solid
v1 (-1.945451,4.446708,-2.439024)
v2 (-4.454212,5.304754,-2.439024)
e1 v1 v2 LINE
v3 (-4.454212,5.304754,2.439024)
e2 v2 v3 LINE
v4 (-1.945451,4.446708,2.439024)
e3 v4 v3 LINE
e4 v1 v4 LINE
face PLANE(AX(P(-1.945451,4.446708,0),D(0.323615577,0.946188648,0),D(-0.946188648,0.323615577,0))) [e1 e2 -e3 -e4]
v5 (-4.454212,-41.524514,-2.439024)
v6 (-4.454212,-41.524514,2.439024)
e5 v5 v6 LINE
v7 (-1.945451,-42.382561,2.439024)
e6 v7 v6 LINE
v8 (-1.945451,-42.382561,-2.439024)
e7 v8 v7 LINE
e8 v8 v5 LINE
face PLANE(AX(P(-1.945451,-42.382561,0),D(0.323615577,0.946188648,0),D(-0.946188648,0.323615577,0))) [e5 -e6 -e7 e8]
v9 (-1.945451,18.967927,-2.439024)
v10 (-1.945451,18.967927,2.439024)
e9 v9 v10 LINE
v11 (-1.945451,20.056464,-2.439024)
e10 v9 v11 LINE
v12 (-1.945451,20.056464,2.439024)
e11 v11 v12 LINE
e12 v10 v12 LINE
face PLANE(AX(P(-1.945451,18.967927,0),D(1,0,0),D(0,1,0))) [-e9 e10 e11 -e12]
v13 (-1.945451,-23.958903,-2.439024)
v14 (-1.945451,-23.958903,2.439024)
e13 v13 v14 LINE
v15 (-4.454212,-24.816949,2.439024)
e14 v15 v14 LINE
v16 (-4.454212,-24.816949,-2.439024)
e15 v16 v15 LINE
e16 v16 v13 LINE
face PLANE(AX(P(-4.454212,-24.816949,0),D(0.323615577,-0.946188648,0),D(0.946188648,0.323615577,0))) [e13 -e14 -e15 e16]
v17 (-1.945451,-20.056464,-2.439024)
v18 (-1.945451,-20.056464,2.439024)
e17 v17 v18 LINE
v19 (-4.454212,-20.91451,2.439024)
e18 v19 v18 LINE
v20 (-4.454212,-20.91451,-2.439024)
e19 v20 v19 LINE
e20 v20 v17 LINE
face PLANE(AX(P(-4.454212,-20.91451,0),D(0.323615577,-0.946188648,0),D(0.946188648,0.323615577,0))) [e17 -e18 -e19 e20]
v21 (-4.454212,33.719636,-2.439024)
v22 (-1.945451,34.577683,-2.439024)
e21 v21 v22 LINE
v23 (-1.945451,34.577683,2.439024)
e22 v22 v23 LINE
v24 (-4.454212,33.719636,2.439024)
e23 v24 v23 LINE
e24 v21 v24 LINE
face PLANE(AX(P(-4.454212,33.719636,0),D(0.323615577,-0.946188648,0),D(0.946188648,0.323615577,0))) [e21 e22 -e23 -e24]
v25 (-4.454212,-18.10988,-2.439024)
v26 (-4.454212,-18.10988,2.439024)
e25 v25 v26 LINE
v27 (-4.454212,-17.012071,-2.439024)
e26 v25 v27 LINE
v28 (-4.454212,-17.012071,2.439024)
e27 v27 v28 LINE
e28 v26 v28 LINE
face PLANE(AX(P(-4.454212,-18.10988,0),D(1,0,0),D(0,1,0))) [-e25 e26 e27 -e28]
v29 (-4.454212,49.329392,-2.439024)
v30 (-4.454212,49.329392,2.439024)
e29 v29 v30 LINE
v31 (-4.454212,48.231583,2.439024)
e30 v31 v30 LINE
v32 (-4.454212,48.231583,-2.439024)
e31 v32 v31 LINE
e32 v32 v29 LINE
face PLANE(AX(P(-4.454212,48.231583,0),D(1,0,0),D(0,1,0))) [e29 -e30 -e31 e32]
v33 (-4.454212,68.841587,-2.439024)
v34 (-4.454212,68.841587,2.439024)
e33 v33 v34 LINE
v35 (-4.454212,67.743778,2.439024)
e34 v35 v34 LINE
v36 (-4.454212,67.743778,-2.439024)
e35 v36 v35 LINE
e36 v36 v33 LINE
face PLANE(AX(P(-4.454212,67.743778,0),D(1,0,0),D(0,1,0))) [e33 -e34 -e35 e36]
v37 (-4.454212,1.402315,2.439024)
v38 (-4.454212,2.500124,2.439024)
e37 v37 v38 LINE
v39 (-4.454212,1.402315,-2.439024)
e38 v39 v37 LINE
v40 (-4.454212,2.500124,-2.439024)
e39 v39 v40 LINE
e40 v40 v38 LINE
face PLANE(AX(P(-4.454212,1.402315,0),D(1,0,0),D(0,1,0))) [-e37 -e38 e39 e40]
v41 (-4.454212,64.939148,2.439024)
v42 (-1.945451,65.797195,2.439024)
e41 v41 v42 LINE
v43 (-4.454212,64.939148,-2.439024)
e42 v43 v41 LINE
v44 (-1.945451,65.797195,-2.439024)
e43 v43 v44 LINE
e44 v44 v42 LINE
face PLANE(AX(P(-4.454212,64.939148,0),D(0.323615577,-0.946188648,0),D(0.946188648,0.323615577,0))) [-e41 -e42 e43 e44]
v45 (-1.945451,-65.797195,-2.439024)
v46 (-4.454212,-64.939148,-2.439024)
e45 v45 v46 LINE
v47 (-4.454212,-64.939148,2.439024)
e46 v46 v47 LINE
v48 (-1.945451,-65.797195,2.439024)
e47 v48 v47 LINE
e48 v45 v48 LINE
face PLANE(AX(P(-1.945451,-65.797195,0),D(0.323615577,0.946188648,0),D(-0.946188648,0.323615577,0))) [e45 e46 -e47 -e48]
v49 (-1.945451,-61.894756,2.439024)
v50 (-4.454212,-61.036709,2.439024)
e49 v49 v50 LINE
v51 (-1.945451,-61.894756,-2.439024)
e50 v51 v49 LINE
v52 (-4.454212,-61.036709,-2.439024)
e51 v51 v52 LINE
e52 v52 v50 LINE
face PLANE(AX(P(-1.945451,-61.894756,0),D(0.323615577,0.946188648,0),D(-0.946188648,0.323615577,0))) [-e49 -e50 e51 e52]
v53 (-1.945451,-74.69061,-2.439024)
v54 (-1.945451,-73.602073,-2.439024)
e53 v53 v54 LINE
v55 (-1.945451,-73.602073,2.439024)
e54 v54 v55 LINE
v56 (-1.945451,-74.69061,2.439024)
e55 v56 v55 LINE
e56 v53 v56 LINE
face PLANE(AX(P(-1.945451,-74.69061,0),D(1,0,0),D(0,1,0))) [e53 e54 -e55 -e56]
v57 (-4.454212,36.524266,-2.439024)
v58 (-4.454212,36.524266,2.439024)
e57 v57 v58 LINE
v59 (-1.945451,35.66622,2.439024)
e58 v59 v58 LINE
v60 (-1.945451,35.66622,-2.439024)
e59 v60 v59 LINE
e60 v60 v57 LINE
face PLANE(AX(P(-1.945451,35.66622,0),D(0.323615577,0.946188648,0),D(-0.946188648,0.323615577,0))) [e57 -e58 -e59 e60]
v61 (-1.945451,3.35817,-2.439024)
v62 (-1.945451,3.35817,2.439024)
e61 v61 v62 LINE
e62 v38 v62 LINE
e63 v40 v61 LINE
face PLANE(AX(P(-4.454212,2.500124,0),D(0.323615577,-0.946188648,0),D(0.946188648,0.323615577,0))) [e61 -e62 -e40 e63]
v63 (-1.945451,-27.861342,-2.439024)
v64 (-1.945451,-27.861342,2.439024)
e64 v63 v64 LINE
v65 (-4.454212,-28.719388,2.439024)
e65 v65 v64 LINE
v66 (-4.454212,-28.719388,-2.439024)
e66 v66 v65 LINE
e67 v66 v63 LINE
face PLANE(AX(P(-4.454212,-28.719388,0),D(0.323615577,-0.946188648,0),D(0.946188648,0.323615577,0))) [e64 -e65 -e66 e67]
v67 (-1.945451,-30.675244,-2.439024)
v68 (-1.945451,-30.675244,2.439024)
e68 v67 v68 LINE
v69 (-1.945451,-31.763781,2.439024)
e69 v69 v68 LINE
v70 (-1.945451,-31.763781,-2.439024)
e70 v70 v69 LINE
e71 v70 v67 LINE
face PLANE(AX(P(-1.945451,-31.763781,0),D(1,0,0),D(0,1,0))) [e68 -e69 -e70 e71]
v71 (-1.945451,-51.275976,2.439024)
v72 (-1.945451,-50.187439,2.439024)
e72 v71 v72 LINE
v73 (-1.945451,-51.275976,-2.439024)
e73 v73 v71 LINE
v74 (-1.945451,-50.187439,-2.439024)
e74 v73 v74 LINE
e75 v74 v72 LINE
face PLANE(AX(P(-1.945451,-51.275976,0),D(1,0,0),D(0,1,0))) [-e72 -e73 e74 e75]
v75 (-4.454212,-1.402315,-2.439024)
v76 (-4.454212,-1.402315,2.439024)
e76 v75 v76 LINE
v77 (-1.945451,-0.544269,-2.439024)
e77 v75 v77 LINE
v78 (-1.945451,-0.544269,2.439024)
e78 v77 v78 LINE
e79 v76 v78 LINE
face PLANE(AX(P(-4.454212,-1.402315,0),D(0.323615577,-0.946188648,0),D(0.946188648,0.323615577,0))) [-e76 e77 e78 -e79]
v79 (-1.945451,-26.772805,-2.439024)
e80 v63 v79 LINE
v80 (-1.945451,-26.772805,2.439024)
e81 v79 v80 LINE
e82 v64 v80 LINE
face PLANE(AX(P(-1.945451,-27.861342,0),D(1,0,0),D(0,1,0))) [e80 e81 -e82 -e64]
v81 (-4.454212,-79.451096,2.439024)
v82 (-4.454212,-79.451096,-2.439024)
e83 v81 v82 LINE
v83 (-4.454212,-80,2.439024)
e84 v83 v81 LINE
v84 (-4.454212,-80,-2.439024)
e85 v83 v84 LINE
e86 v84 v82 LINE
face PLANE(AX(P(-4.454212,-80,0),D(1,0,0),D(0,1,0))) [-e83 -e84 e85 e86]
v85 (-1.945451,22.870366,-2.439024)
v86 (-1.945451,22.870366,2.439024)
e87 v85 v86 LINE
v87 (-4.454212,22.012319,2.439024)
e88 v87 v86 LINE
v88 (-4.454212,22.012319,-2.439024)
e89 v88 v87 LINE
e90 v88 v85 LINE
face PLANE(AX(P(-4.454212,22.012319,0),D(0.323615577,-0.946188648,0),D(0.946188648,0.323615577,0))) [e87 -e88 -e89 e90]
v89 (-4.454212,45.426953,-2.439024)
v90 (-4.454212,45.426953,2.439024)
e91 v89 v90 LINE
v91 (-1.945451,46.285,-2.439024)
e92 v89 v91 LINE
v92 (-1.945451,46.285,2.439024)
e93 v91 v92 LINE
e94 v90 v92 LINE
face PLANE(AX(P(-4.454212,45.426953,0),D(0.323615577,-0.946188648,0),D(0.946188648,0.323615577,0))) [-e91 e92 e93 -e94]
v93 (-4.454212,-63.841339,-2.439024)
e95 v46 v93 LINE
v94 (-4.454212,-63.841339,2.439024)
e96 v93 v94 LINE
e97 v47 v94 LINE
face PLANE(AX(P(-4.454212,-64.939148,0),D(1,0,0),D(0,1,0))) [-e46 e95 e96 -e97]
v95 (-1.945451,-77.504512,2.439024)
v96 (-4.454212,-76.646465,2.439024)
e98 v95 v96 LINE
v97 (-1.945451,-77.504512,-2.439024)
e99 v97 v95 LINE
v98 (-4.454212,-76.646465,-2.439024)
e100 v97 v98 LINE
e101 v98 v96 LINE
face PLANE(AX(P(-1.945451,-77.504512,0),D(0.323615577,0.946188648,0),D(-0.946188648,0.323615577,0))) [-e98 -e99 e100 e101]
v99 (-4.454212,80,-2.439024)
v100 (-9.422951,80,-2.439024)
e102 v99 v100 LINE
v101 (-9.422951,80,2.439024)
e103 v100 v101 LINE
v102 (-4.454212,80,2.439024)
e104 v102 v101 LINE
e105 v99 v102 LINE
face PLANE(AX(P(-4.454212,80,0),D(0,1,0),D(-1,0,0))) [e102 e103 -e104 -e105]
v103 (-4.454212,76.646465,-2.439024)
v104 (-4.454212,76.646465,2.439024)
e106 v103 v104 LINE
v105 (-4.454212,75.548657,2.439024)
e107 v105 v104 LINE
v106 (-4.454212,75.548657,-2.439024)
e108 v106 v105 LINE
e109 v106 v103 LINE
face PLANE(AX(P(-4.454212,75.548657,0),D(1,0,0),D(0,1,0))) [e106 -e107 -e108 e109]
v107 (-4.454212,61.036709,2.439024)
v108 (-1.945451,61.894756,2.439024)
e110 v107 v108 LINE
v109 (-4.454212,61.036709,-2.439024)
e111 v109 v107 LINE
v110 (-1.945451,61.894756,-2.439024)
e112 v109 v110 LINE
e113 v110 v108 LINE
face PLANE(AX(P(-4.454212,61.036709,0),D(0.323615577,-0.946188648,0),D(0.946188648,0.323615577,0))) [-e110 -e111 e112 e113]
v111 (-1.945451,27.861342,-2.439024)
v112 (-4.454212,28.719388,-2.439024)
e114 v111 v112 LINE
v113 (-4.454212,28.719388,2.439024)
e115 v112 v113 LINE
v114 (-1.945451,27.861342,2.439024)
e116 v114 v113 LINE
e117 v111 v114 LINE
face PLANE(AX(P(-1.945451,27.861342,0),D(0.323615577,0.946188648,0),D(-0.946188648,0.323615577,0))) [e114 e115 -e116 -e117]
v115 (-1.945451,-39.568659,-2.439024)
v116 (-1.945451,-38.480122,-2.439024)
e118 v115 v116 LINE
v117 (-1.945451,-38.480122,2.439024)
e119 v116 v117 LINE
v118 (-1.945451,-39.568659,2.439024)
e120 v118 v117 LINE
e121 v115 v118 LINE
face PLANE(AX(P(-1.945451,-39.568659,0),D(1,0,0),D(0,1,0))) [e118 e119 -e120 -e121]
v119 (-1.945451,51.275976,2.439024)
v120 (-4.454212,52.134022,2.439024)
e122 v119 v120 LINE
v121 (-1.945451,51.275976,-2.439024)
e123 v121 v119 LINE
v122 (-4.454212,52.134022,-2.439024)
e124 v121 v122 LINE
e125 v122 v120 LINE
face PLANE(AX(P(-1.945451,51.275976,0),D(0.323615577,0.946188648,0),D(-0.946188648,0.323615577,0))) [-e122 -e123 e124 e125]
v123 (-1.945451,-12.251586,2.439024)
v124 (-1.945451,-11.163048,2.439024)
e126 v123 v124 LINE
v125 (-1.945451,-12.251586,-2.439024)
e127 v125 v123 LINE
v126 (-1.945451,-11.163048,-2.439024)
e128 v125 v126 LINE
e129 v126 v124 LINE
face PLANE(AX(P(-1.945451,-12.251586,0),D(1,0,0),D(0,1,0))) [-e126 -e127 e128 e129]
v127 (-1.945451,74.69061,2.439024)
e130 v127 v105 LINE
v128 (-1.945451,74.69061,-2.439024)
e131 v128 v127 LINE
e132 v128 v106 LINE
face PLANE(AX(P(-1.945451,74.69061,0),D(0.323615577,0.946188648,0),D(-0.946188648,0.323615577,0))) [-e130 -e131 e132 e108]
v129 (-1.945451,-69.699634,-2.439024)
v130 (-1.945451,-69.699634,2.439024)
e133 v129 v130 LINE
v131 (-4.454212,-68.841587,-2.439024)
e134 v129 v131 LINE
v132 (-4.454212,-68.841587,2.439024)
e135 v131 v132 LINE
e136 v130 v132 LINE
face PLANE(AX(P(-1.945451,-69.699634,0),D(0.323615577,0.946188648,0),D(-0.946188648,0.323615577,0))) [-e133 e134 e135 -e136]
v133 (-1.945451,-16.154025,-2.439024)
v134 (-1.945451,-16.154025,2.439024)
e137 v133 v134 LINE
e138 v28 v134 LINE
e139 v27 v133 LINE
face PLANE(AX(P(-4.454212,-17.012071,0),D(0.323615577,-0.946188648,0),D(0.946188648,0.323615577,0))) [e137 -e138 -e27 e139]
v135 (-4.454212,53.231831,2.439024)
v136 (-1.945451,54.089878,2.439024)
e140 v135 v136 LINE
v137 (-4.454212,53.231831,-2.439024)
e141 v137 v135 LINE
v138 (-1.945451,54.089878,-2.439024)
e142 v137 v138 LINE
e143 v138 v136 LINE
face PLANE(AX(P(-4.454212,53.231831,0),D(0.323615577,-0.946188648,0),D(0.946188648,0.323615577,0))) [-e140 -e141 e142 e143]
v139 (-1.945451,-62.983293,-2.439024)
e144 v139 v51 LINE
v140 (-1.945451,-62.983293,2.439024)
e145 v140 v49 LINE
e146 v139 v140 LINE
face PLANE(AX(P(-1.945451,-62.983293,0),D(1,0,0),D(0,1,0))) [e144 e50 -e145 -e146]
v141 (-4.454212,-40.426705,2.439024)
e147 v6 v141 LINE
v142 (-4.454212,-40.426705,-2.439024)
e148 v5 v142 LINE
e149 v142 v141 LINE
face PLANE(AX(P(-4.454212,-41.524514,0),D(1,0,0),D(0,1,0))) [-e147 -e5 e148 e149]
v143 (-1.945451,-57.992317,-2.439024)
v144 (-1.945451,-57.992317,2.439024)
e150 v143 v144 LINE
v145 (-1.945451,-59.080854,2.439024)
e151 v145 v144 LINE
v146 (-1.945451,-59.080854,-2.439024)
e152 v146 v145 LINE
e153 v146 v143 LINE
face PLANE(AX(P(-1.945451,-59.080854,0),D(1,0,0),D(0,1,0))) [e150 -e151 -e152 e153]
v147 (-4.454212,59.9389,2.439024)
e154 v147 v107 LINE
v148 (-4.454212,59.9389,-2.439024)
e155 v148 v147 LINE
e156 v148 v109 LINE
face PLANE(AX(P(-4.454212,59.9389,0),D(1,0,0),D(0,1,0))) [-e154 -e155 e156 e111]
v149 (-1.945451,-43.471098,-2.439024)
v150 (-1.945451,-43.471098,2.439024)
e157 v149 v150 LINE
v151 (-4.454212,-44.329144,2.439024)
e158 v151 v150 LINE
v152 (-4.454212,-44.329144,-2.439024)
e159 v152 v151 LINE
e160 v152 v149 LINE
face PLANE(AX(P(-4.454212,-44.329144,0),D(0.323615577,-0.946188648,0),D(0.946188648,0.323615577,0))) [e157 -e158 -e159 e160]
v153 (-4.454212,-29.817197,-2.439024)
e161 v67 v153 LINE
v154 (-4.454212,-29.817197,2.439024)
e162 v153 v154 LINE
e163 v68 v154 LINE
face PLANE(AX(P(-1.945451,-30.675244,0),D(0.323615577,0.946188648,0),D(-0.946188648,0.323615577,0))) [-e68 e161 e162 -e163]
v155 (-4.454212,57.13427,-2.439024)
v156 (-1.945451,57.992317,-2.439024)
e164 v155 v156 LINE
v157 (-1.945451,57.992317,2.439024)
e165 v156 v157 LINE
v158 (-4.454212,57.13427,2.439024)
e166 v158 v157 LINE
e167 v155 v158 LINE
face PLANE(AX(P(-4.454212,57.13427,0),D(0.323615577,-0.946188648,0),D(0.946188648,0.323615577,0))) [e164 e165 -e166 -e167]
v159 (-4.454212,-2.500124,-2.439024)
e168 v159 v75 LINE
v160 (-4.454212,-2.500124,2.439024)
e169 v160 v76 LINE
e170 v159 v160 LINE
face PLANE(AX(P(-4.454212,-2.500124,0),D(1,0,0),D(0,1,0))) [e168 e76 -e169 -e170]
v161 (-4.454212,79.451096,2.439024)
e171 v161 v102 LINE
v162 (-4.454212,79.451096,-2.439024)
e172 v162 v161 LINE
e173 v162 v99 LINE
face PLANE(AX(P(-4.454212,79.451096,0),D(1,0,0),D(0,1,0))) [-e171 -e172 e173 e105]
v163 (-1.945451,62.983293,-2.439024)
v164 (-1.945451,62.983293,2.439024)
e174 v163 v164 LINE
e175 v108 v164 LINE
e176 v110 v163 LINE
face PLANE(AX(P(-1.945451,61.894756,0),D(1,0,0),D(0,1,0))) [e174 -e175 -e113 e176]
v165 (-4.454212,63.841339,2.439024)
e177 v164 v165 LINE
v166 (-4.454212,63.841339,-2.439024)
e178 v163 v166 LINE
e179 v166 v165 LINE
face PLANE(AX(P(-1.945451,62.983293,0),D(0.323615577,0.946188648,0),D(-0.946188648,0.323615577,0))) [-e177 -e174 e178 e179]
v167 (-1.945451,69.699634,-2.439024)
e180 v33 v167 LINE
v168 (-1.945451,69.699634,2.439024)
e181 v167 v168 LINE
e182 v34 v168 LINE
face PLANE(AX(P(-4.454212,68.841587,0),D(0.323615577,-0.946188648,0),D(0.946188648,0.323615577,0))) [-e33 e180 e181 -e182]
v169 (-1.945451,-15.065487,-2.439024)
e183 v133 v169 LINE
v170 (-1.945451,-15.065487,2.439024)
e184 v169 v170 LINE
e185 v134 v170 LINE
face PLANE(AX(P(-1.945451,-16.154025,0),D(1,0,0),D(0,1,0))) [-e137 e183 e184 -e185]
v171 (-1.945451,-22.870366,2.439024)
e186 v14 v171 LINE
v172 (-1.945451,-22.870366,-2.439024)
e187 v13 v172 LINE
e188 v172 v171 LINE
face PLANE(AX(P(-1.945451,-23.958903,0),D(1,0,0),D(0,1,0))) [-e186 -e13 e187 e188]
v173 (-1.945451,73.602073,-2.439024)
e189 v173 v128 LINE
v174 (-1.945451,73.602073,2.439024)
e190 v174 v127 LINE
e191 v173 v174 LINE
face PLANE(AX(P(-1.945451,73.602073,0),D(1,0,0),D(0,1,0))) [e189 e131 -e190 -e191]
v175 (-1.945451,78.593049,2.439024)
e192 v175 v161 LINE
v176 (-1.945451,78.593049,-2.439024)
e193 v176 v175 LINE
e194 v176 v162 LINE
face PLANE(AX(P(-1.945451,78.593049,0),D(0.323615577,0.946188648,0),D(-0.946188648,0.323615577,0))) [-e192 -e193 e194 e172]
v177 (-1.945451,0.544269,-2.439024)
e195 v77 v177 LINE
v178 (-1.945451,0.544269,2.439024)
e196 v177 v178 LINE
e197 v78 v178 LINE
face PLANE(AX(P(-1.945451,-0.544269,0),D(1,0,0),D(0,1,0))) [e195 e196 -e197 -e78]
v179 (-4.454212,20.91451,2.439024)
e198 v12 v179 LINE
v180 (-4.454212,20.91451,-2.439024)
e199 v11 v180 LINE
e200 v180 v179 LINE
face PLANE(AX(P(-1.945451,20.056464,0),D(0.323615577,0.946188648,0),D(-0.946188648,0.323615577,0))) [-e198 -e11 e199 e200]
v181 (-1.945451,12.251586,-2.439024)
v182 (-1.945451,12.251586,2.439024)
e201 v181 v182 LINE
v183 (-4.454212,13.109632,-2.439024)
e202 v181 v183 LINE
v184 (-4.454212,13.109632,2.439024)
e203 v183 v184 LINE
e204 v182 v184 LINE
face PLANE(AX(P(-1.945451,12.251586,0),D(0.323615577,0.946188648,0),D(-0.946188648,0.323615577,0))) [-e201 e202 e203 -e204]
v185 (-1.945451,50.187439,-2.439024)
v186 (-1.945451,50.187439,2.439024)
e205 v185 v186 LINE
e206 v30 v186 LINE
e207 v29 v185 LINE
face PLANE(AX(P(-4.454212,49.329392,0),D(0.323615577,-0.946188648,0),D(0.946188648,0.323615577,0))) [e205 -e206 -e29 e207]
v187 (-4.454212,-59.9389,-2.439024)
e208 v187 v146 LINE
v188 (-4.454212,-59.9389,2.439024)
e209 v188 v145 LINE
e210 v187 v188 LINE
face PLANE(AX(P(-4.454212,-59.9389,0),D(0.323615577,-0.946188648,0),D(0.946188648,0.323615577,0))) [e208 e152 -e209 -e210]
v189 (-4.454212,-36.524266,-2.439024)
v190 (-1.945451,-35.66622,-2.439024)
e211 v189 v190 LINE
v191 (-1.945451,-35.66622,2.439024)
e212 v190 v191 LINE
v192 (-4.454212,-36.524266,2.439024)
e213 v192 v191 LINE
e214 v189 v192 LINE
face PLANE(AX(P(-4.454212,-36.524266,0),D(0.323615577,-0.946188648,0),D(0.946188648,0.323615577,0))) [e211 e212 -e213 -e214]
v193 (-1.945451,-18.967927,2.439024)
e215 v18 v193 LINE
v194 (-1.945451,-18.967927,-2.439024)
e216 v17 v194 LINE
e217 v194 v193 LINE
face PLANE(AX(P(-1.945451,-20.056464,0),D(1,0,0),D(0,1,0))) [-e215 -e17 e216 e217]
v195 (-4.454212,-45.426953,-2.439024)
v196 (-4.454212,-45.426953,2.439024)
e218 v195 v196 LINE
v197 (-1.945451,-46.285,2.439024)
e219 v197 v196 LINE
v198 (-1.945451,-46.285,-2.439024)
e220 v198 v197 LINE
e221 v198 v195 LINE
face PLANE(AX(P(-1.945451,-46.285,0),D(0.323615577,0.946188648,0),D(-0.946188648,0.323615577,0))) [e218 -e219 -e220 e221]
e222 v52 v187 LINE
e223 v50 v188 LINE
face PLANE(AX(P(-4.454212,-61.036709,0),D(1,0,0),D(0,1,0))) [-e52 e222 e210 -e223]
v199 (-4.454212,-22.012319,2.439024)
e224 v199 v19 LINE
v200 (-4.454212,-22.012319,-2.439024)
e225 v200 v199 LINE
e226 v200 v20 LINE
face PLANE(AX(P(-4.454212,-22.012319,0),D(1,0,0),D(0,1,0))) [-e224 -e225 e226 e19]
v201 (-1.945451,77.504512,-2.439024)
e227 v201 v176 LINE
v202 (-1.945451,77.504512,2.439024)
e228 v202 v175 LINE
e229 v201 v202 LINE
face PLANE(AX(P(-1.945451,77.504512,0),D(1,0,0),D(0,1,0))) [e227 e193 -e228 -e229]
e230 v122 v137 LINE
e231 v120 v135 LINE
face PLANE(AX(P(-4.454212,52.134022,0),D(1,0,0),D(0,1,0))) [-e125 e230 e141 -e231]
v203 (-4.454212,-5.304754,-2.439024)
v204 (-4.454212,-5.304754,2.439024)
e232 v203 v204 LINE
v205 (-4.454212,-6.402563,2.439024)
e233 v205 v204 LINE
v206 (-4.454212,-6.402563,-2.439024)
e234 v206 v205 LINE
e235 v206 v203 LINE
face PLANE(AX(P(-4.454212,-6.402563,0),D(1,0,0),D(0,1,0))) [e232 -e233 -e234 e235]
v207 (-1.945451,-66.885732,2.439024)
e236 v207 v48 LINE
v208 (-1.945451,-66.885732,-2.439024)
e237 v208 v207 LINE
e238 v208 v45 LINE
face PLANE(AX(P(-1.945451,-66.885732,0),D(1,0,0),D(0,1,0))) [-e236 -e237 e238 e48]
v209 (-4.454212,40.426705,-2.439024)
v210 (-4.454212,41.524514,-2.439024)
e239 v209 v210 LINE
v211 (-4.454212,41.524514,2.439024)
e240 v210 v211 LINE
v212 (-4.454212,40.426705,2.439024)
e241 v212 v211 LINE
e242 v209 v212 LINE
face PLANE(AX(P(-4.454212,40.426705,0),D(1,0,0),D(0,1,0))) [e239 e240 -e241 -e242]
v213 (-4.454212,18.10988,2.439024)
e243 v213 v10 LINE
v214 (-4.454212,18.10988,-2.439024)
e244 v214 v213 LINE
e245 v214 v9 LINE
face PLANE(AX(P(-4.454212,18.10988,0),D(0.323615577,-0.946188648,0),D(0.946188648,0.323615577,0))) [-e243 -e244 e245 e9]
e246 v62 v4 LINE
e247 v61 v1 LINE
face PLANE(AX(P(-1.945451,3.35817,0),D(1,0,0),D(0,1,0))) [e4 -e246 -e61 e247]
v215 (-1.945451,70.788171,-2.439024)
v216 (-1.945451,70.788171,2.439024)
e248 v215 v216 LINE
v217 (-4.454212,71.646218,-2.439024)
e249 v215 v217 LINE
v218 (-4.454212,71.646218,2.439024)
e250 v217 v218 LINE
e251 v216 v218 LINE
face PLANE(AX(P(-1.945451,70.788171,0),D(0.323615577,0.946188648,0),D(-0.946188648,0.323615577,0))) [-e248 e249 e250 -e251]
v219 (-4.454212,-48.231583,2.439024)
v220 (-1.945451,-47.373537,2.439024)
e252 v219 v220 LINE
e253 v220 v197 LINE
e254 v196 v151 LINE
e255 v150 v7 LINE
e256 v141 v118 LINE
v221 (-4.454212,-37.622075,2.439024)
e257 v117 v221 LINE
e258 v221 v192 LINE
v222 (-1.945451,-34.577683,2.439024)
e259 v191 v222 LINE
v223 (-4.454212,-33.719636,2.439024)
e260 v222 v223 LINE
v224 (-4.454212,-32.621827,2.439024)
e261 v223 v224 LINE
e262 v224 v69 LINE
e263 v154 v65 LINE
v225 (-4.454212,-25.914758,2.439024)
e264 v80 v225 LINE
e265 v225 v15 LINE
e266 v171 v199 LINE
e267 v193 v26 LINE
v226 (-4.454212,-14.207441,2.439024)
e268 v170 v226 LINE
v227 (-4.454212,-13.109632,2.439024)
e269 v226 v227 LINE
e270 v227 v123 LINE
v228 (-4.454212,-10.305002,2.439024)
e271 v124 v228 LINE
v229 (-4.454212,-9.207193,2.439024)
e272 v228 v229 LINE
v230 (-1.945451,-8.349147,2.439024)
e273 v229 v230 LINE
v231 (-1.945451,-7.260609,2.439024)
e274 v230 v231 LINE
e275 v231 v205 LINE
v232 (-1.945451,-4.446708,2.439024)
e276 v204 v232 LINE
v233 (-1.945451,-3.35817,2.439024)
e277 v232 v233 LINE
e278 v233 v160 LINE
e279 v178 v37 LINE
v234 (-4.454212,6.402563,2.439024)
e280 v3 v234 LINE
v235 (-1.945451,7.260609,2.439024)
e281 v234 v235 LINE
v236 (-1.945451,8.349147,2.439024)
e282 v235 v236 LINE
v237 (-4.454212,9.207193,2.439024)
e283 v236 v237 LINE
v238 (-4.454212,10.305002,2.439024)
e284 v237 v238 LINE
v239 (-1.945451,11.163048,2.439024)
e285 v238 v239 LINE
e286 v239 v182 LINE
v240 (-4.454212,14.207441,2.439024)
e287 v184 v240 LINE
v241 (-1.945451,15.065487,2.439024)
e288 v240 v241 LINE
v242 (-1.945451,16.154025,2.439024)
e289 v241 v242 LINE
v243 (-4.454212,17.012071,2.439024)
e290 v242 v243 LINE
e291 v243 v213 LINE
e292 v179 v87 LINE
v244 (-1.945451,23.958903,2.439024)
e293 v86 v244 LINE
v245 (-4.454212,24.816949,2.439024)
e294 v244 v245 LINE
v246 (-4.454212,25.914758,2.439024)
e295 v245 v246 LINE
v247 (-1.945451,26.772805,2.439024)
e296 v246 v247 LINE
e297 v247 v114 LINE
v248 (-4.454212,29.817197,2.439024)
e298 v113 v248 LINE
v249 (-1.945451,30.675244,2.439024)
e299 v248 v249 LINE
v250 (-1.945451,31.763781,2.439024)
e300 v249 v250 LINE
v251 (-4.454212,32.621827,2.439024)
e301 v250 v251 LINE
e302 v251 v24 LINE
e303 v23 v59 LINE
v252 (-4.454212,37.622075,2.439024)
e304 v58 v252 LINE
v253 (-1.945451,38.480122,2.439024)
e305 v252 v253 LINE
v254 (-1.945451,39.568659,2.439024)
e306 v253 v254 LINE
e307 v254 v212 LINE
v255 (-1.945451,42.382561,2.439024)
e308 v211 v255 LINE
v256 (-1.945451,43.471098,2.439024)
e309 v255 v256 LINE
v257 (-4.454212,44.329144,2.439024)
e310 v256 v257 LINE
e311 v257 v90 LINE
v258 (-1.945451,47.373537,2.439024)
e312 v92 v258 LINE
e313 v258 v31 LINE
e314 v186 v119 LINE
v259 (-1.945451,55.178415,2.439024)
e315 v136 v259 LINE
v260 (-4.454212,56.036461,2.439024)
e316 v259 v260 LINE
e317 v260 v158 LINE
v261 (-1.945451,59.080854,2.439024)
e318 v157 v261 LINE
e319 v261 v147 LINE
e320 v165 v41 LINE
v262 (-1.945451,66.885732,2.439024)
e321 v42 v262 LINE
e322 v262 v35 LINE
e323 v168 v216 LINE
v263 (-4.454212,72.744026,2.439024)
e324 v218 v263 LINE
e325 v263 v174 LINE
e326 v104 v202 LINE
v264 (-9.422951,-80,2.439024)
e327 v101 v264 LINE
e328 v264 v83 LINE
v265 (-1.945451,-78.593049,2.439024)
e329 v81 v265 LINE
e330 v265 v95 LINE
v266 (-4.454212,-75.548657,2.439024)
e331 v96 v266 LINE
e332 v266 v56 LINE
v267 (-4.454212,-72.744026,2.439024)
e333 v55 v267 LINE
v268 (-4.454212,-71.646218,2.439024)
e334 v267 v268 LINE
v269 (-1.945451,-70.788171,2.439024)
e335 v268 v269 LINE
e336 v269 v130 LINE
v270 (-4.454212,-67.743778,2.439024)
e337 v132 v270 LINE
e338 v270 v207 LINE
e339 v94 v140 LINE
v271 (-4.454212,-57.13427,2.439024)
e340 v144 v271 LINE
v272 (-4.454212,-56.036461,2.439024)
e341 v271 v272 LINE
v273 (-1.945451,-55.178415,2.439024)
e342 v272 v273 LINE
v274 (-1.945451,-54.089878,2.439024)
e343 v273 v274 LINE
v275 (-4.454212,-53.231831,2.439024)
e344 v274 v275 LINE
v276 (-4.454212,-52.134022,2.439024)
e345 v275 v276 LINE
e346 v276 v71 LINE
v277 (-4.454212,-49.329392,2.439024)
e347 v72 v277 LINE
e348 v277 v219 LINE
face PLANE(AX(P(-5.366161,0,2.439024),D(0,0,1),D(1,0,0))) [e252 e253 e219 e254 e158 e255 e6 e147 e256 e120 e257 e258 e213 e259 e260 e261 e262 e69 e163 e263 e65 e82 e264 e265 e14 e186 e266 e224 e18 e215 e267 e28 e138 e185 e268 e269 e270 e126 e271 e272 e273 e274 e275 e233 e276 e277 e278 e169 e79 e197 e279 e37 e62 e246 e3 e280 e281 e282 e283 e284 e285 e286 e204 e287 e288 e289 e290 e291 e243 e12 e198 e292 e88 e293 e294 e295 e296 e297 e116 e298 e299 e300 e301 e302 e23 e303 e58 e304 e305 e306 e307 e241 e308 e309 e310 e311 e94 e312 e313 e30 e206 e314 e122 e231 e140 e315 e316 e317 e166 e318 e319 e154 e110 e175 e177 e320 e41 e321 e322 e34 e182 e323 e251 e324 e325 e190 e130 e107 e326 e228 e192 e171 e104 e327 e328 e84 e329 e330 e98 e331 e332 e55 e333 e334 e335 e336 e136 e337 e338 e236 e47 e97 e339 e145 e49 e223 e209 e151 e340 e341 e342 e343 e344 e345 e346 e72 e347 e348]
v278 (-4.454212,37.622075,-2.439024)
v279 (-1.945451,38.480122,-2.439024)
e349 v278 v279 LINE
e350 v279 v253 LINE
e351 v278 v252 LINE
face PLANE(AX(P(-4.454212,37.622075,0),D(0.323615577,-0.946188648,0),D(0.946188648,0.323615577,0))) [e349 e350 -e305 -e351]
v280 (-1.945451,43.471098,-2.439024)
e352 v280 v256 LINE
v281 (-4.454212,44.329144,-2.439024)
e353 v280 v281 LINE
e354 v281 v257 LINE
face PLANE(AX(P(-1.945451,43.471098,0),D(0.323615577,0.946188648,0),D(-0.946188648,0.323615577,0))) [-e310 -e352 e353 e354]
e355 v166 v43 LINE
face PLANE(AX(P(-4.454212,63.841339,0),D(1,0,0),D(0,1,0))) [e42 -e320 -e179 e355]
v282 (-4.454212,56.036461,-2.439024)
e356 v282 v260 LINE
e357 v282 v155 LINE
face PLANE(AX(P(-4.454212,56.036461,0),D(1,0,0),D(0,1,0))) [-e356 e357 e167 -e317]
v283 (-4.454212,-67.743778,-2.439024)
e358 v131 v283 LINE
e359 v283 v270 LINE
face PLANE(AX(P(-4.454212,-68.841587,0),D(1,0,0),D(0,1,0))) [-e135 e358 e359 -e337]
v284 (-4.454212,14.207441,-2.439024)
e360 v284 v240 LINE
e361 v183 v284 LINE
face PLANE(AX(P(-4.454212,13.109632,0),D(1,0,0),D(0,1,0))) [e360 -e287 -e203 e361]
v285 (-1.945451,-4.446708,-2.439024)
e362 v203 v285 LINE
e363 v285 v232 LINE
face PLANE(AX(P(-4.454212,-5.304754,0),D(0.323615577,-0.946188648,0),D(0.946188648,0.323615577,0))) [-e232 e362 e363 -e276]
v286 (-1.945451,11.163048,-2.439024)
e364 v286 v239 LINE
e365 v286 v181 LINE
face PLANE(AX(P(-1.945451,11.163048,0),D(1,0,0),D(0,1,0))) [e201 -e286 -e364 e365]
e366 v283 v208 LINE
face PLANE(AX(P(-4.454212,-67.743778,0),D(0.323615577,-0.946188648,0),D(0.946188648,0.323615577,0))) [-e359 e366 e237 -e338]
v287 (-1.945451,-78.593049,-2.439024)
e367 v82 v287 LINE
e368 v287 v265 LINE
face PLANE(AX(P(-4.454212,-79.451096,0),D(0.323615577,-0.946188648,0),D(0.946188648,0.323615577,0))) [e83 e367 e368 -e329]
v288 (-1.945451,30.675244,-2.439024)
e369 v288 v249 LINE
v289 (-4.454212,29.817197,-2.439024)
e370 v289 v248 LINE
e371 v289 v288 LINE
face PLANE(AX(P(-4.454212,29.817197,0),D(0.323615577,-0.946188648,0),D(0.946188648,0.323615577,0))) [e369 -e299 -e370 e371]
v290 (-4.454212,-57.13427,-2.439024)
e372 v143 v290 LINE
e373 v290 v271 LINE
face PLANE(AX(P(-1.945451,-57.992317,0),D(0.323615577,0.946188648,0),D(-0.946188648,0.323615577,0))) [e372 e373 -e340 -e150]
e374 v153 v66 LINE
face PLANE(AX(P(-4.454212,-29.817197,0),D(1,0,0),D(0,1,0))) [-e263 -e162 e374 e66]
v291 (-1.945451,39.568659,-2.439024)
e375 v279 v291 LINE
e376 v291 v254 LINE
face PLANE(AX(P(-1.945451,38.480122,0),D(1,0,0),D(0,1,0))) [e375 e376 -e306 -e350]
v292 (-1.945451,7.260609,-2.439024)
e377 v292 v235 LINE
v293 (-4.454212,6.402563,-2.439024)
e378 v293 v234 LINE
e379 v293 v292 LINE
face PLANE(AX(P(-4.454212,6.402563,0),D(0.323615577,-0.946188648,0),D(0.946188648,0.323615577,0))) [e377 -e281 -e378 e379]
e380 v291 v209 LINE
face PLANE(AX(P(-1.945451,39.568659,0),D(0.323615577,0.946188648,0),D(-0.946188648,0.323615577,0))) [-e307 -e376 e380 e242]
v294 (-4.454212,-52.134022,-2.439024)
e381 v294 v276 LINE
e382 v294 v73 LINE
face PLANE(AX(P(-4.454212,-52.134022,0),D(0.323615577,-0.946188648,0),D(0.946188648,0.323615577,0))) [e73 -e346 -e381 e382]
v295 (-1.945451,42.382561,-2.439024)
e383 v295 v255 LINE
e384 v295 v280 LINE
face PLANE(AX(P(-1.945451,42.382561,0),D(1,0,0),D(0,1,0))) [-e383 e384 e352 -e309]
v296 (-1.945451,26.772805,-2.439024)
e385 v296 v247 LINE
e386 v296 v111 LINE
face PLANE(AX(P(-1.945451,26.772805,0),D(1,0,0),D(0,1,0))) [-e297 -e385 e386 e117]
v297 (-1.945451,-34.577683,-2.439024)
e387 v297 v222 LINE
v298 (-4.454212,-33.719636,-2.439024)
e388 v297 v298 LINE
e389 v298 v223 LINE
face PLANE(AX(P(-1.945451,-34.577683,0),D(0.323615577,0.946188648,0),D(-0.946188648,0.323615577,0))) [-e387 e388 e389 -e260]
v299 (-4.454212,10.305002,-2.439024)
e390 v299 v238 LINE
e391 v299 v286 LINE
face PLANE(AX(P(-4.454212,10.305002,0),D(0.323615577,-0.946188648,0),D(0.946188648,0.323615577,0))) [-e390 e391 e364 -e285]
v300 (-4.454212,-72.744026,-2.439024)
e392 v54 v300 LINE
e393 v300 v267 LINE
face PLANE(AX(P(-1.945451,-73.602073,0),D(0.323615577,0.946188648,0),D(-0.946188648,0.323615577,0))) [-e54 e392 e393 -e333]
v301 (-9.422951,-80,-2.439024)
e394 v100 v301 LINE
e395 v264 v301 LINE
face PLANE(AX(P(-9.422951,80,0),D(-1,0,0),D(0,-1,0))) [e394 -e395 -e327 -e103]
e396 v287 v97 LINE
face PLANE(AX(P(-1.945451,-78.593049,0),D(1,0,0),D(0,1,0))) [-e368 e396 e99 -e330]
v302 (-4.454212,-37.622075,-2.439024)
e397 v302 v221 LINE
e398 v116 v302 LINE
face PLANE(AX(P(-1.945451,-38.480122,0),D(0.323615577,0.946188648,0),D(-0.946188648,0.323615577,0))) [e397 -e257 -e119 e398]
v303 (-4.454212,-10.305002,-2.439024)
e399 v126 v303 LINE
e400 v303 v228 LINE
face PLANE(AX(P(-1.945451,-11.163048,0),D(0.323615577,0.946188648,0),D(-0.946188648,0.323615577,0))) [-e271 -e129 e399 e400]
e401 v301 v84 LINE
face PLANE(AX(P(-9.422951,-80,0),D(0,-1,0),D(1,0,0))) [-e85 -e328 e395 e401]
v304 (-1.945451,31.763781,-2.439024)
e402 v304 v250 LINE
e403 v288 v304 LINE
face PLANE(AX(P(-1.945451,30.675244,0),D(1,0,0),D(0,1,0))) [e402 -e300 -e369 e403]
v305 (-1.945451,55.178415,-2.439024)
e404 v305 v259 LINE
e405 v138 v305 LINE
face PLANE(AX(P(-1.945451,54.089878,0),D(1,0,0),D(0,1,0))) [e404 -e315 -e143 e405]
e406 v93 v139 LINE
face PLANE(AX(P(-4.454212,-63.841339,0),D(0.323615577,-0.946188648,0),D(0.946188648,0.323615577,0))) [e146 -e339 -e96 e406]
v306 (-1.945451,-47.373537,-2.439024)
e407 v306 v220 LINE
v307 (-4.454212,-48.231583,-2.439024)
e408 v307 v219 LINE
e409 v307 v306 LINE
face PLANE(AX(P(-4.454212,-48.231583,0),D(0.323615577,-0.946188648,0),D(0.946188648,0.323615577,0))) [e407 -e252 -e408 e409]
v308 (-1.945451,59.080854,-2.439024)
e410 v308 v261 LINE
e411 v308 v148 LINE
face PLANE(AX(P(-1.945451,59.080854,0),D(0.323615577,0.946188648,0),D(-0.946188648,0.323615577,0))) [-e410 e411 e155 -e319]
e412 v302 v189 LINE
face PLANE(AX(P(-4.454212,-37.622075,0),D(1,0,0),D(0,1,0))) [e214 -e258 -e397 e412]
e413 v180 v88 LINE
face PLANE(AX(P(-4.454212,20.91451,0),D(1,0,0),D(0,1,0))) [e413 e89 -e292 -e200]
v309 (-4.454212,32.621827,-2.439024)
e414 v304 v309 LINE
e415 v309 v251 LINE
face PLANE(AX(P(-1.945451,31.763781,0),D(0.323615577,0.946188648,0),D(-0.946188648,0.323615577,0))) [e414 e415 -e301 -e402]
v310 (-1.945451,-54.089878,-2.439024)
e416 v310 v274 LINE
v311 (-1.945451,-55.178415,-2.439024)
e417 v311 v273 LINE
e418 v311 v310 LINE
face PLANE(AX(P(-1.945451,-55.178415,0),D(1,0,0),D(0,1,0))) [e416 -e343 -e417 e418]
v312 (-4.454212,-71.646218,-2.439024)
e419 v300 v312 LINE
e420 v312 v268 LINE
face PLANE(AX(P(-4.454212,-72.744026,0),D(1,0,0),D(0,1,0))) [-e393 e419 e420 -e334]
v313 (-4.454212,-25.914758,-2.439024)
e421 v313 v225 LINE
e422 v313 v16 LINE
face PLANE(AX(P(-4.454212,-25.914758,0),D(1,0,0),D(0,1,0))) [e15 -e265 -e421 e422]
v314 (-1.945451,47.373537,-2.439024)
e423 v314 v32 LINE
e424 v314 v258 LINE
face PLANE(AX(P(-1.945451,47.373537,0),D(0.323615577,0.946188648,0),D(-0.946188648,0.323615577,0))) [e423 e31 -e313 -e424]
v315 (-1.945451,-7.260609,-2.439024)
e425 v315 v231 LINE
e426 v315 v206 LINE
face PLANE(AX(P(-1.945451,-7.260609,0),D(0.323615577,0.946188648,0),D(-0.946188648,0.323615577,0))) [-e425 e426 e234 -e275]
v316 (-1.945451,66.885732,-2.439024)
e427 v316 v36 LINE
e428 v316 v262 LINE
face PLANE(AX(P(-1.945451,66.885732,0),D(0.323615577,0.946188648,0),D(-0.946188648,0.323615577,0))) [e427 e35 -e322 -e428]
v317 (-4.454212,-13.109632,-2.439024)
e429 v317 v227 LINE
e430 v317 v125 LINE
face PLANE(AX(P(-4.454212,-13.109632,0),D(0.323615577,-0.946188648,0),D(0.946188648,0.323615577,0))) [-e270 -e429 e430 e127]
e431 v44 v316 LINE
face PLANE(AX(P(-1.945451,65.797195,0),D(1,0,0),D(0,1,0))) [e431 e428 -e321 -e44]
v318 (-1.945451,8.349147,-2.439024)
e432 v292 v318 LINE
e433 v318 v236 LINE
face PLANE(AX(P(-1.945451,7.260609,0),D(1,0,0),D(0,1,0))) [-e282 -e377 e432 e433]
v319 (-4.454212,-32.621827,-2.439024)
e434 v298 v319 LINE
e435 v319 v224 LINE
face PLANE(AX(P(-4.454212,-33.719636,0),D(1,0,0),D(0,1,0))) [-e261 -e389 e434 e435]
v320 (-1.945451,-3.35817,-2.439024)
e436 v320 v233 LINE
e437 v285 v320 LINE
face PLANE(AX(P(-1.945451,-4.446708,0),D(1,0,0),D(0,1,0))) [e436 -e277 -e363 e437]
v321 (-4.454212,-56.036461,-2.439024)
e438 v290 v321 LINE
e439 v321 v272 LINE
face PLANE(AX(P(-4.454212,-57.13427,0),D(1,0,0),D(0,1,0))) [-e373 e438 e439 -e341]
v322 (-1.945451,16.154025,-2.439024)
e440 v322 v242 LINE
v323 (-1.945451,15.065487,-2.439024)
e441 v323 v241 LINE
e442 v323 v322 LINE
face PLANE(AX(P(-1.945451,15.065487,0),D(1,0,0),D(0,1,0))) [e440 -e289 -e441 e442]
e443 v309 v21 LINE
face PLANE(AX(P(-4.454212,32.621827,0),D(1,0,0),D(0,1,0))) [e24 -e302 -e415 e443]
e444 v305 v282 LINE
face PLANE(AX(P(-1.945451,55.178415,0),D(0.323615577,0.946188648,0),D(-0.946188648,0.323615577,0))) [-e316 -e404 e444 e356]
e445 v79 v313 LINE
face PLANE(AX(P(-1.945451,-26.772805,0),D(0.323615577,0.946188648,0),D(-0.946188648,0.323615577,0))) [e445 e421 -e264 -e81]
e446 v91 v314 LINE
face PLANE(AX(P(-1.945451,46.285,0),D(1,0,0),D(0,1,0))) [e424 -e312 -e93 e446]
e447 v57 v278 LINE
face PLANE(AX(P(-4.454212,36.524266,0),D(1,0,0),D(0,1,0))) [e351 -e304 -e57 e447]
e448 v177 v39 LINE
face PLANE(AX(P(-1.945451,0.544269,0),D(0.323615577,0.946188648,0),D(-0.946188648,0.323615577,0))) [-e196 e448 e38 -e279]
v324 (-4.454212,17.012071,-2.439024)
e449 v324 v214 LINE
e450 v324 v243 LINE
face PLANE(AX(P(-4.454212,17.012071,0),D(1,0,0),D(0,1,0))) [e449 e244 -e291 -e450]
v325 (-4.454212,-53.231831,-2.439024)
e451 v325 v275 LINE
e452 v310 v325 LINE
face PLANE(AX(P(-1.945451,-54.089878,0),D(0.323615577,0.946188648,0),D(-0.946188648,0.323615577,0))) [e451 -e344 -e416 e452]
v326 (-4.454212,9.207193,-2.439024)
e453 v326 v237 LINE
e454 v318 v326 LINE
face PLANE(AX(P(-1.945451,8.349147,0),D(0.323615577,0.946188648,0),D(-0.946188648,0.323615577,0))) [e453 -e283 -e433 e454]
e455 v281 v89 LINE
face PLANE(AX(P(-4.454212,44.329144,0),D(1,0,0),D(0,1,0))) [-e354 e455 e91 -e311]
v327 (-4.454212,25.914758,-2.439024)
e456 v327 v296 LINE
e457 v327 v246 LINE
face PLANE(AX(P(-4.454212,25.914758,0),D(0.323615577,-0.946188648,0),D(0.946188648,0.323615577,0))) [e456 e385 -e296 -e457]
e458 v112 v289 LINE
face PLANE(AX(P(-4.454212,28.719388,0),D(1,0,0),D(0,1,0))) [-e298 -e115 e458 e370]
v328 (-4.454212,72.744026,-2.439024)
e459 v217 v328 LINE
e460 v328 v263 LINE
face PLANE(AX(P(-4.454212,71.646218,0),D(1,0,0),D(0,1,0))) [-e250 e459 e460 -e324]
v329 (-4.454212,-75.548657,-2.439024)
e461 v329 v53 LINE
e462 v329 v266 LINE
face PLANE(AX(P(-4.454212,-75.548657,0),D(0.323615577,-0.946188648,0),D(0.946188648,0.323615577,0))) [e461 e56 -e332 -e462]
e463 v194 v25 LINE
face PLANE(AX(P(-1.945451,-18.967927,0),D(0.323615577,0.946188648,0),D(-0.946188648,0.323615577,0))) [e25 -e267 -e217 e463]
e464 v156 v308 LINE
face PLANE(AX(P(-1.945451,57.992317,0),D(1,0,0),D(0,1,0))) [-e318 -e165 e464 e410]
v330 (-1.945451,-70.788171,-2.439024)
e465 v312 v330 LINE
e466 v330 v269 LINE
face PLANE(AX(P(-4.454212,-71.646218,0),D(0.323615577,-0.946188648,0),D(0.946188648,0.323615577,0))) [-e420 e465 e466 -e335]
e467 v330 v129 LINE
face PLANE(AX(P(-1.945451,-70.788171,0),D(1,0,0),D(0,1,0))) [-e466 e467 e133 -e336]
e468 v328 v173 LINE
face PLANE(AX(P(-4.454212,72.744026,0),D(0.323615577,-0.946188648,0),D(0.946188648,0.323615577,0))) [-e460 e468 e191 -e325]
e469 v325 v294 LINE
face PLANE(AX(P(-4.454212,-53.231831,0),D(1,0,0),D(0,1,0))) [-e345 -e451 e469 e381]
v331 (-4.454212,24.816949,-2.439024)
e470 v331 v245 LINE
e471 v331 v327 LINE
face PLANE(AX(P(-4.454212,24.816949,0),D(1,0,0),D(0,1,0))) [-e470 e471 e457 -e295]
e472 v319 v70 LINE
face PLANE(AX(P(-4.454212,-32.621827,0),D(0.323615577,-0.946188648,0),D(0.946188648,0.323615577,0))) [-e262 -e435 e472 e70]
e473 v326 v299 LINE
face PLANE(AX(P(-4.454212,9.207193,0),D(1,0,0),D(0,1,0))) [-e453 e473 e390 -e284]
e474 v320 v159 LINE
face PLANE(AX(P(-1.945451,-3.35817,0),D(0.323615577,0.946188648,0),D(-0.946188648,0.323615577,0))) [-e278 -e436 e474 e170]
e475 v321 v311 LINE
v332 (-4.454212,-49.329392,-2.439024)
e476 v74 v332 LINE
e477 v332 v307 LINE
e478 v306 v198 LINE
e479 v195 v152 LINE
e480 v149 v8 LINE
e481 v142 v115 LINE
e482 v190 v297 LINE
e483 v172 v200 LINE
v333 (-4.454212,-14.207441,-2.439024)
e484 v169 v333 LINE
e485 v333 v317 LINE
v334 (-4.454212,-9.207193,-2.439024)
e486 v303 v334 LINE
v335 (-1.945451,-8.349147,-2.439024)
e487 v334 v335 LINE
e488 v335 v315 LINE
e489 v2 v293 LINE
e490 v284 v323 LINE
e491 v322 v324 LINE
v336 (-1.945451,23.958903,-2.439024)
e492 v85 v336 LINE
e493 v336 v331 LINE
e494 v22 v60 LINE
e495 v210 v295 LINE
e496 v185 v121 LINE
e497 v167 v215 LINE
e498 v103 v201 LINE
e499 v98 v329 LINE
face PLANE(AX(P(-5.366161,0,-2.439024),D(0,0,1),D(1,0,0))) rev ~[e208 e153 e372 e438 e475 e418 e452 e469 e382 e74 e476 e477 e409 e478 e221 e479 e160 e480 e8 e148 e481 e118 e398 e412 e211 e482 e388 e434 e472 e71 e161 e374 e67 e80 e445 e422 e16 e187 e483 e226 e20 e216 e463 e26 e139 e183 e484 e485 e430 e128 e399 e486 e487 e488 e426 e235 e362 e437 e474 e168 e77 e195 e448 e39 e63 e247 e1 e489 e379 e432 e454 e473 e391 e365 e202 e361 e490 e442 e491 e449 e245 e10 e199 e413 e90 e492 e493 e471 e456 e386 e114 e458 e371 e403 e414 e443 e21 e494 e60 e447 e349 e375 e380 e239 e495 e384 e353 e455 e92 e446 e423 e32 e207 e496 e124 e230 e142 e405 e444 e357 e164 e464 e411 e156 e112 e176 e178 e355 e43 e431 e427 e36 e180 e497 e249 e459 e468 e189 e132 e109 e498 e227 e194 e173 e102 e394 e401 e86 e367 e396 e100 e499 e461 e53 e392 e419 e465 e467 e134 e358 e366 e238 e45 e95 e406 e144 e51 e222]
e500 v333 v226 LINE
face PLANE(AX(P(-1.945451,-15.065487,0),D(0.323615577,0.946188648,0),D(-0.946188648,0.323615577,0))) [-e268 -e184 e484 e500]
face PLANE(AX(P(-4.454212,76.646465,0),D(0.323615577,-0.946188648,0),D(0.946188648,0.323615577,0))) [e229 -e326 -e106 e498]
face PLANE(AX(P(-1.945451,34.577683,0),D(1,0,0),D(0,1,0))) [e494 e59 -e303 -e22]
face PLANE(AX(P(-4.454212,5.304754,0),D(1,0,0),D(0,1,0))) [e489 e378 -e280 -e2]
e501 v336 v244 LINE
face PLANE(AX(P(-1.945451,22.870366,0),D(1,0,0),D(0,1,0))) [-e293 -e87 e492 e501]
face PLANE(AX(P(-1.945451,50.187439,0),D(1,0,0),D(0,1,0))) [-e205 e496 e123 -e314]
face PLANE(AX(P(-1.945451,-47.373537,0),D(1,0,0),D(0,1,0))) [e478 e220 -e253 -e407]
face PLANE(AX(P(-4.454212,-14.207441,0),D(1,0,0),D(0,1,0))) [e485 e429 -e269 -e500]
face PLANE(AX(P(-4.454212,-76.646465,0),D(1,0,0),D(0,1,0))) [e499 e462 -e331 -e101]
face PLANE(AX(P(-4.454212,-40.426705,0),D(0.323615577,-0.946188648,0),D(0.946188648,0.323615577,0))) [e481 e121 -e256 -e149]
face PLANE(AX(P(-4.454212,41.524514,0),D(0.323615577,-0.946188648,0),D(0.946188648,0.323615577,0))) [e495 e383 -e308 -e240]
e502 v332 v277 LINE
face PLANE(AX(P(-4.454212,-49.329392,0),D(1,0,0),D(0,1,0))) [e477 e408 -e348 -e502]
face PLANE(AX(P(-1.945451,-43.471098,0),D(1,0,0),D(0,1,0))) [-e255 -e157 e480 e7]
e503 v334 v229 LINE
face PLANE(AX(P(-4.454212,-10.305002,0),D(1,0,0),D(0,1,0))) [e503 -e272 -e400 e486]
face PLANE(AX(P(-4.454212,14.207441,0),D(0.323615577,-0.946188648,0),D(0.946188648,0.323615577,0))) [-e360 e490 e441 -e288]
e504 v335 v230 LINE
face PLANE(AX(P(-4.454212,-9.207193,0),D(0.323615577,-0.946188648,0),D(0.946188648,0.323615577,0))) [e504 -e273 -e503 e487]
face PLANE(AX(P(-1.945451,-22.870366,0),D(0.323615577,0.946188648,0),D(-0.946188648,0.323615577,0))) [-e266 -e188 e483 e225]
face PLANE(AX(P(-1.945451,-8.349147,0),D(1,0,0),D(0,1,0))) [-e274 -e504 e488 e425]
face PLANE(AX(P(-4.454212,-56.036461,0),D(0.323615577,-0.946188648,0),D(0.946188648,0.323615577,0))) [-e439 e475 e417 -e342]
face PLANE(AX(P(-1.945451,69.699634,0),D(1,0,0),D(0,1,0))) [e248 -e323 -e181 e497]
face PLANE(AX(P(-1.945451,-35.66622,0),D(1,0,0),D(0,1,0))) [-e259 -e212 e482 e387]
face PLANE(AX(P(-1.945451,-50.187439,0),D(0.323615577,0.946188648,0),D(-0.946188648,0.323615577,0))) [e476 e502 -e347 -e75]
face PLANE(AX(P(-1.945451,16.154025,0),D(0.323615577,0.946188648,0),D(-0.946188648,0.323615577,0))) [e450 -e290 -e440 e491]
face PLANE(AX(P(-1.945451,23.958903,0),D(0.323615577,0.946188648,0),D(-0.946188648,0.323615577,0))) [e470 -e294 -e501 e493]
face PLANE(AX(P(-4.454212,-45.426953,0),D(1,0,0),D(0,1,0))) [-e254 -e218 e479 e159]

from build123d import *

# Parameters (mm, degrees)
RESSALTO_EXTRUS_O1_DEPTH = 5
SCALE2_SCALE             = 0.487804878


with BuildPart() as part:
    # Esboço1 → Ressalto-extrusão1 (new, symmetric)
    with BuildSketch(Plane.XY):
        Polygon((-2.596479089, -162.874745928), (2.546479089, -161.115750635), (2.546479089, -158.884249365), (-2.596479089, -157.125254072), (-2.596479089, -154.874745928), (2.546479089, -153.115750635), (2.546479089, -150.884249365), (-2.596479089, -149.125254072), (-2.596479089, -146.874745928), (2.546479089, -145.115750635), (2.546479089, -142.884249365), (-2.596479089, -141.125254072), (-2.596479089, -138.874745928), (2.546479089, -137.115750635), (2.546479089, -134.884249365), (-2.596479089, -133.125254072), (-2.596479089, -130.874745928), (2.546479089, -129.115750635), (2.546479089, -126.884249365), (-2.596479089, -125.125254072), (-2.596479089, -122.874745928), (2.546479089, -121.115750635), (2.546479089, -118.884249365), (-2.596479089, -117.125254072), (-2.596479089, -114.874745928), (2.546479089, -113.115750635), (2.546479089, -110.884249365), (-2.596479089, -109.125254072), (-2.596479089, -106.874745928), (2.546479089, -105.115750635), (2.546479089, -102.884249365), (-2.596479089, -101.125254072), (-2.596479089, -98.874745928), (2.546479089, -97.115750635), (2.546479089, -94.884249365), (-2.596479089, -93.125254072), (-2.596479089, -90.874745928), (2.546479089, -89.115750635), (2.546479089, -86.884249365), (-2.596479089, -85.125254072), (-2.596479089, -82.874745928), (2.546479089, -81.115750635), (2.546479089, -78.884249365), (-2.596479089, -77.125254072), (-2.596479089, -74.874745928), (2.546479089, -73.115750635), (2.546479089, -70.884249365), (-2.596479089, -69.125254072), (-2.596479089, -66.874745928), (2.546479089, -65.115750635), (2.546479089, -62.884249365), (-2.596479089, -61.125254072), (-2.596479089, -58.874745928), (2.546479089, -57.115750635), (2.546479089, -54.884249365), (-2.596479089, -53.125254072), (-2.596479089, -50.874745928), (2.546479089, -49.115750635), (2.546479089, -46.884249365), (-2.596479089, -45.125254072), (-2.596479089, -42.874745928), (2.546479089, -41.115750635), (2.546479089, -38.884249365), (-2.596479089, -37.125254072), (-2.596479089, -34.874745928), (2.546479089, -33.115750635), (2.546479089, -30.884249365), (-2.596479089, -29.125254072), (-2.596479089, -26.874745928), (2.546479089, -25.115750635), (2.546479089, -22.884249365), (-2.596479089, -21.125254072), (-2.596479089, -18.874745928), (2.546479089, -17.115750635), (2.546479089, -14.884249365), (-2.596479089, -13.125254072), (-2.596479089, -10.874745928), (2.546479089, -9.115750635), (2.546479089, -6.884249365), (-2.596479089, -5.125254072), (-2.596479089, -2.874745928), (2.546479089, -1.115750635), (2.546479089, 1.115750635), (-2.596479089, 2.874745928), (-2.596479089, 5.125254072), (2.546479089, 6.884249365), (2.546479089, 9.115750635), (-2.596479089, 10.874745928), (-2.596479089, 13.125254072), (2.546479089, 14.884249365), (2.546479089, 17.115750635), (-2.596479089, 18.874745928), (-2.596479089, 21.125254072), (2.546479089, 22.884249365), (2.546479089, 25.115750635), (-2.596479089, 26.874745928), (-2.596479089, 29.125254072), (2.546479089, 30.884249365), (2.546479089, 33.115750635), (-2.596479089, 34.874745928), (-2.596479089, 37.125254072), (2.546479089, 38.884249365), (2.546479089, 41.115750635), (-2.596479089, 42.874745928), (-2.596479089, 45.125254072), (2.546479089, 46.884249365), (2.546479089, 49.115750635), (-2.596479089, 50.874745928), (-2.596479089, 53.125254072), (2.546479089, 54.884249365), (2.546479089, 57.115750635), (-2.596479089, 58.874745928), (-2.596479089, 61.125254072), (2.546479089, 62.884249365), (2.546479089, 65.115750635), (-2.596479089, 66.874745928), (-2.596479089, 69.125254072), (2.546479089, 70.884249365), (2.546479089, 73.115750635), (-2.596479089, 74.874745928), (-2.596479089, 77.125254072), (2.546479089, 78.884249365), (2.546479089, 81.115750635), (-2.596479089, 82.874745928), (-2.596479089, 85.125254072), (2.546479089, 86.884249365), (2.546479089, 89.115750635), (-2.596479089, 90.874745928), (-2.596479089, 93.125254072), (2.546479089, 94.884249365), (2.546479089, 97.115750635), (-2.596479089, 98.874745928), (-2.596479089, 101.125254072), (2.546479089, 102.884249365), (2.546479089, 105.115750635), (-2.596479089, 106.874745928), (-2.596479089, 109.125254072), (2.546479089, 110.884249365), (2.546479089, 113.115750635), (-2.596479089, 114.874745928), (-2.596479089, 117.125254072), (2.546479089, 118.884249365), (2.546479089, 121.115750635), (-2.596479089, 122.874745928), (-2.596479089, 125.125254072), (2.546479089, 126.884249365), (2.546479089, 129.115750635), (-2.596479089, 130.874745928), (-2.596479089, 133.125254072), (2.546479089, 134.884249365), (2.546479089, 137.115750635), (-2.596479089, 138.874745928), (-2.596479089, 141.125254072), (2.546479089, 142.884249365), (2.546479089, 145.115750635), (-2.596479089, 146.874745928), (-2.596479089, 149.125254072), (2.546479089, 150.884249365), (2.546479089, 153.115750635), (-2.596479089, 154.874745928), (-2.596479089, 157.125254072), (2.546479089, 158.884249365), (2.546479089, 161.115750635), (-2.596479089, 162.874745928), (-2.596479089, 164), (-12.782395447, 164), (-12.782395447, -164), (-2.596479089, -164), align=None)
    extrude(amount=RESSALTO_EXTRUS_O1_DEPTH, both=True)


with BuildPart() as part_1:
    # Scale2: scaled about (-6.22348049, 0, 0)
    add(part.part.scale(SCALE2_SCALE).moved(Location((-3.187636349, 0, 0))))


solid = part_1.part
